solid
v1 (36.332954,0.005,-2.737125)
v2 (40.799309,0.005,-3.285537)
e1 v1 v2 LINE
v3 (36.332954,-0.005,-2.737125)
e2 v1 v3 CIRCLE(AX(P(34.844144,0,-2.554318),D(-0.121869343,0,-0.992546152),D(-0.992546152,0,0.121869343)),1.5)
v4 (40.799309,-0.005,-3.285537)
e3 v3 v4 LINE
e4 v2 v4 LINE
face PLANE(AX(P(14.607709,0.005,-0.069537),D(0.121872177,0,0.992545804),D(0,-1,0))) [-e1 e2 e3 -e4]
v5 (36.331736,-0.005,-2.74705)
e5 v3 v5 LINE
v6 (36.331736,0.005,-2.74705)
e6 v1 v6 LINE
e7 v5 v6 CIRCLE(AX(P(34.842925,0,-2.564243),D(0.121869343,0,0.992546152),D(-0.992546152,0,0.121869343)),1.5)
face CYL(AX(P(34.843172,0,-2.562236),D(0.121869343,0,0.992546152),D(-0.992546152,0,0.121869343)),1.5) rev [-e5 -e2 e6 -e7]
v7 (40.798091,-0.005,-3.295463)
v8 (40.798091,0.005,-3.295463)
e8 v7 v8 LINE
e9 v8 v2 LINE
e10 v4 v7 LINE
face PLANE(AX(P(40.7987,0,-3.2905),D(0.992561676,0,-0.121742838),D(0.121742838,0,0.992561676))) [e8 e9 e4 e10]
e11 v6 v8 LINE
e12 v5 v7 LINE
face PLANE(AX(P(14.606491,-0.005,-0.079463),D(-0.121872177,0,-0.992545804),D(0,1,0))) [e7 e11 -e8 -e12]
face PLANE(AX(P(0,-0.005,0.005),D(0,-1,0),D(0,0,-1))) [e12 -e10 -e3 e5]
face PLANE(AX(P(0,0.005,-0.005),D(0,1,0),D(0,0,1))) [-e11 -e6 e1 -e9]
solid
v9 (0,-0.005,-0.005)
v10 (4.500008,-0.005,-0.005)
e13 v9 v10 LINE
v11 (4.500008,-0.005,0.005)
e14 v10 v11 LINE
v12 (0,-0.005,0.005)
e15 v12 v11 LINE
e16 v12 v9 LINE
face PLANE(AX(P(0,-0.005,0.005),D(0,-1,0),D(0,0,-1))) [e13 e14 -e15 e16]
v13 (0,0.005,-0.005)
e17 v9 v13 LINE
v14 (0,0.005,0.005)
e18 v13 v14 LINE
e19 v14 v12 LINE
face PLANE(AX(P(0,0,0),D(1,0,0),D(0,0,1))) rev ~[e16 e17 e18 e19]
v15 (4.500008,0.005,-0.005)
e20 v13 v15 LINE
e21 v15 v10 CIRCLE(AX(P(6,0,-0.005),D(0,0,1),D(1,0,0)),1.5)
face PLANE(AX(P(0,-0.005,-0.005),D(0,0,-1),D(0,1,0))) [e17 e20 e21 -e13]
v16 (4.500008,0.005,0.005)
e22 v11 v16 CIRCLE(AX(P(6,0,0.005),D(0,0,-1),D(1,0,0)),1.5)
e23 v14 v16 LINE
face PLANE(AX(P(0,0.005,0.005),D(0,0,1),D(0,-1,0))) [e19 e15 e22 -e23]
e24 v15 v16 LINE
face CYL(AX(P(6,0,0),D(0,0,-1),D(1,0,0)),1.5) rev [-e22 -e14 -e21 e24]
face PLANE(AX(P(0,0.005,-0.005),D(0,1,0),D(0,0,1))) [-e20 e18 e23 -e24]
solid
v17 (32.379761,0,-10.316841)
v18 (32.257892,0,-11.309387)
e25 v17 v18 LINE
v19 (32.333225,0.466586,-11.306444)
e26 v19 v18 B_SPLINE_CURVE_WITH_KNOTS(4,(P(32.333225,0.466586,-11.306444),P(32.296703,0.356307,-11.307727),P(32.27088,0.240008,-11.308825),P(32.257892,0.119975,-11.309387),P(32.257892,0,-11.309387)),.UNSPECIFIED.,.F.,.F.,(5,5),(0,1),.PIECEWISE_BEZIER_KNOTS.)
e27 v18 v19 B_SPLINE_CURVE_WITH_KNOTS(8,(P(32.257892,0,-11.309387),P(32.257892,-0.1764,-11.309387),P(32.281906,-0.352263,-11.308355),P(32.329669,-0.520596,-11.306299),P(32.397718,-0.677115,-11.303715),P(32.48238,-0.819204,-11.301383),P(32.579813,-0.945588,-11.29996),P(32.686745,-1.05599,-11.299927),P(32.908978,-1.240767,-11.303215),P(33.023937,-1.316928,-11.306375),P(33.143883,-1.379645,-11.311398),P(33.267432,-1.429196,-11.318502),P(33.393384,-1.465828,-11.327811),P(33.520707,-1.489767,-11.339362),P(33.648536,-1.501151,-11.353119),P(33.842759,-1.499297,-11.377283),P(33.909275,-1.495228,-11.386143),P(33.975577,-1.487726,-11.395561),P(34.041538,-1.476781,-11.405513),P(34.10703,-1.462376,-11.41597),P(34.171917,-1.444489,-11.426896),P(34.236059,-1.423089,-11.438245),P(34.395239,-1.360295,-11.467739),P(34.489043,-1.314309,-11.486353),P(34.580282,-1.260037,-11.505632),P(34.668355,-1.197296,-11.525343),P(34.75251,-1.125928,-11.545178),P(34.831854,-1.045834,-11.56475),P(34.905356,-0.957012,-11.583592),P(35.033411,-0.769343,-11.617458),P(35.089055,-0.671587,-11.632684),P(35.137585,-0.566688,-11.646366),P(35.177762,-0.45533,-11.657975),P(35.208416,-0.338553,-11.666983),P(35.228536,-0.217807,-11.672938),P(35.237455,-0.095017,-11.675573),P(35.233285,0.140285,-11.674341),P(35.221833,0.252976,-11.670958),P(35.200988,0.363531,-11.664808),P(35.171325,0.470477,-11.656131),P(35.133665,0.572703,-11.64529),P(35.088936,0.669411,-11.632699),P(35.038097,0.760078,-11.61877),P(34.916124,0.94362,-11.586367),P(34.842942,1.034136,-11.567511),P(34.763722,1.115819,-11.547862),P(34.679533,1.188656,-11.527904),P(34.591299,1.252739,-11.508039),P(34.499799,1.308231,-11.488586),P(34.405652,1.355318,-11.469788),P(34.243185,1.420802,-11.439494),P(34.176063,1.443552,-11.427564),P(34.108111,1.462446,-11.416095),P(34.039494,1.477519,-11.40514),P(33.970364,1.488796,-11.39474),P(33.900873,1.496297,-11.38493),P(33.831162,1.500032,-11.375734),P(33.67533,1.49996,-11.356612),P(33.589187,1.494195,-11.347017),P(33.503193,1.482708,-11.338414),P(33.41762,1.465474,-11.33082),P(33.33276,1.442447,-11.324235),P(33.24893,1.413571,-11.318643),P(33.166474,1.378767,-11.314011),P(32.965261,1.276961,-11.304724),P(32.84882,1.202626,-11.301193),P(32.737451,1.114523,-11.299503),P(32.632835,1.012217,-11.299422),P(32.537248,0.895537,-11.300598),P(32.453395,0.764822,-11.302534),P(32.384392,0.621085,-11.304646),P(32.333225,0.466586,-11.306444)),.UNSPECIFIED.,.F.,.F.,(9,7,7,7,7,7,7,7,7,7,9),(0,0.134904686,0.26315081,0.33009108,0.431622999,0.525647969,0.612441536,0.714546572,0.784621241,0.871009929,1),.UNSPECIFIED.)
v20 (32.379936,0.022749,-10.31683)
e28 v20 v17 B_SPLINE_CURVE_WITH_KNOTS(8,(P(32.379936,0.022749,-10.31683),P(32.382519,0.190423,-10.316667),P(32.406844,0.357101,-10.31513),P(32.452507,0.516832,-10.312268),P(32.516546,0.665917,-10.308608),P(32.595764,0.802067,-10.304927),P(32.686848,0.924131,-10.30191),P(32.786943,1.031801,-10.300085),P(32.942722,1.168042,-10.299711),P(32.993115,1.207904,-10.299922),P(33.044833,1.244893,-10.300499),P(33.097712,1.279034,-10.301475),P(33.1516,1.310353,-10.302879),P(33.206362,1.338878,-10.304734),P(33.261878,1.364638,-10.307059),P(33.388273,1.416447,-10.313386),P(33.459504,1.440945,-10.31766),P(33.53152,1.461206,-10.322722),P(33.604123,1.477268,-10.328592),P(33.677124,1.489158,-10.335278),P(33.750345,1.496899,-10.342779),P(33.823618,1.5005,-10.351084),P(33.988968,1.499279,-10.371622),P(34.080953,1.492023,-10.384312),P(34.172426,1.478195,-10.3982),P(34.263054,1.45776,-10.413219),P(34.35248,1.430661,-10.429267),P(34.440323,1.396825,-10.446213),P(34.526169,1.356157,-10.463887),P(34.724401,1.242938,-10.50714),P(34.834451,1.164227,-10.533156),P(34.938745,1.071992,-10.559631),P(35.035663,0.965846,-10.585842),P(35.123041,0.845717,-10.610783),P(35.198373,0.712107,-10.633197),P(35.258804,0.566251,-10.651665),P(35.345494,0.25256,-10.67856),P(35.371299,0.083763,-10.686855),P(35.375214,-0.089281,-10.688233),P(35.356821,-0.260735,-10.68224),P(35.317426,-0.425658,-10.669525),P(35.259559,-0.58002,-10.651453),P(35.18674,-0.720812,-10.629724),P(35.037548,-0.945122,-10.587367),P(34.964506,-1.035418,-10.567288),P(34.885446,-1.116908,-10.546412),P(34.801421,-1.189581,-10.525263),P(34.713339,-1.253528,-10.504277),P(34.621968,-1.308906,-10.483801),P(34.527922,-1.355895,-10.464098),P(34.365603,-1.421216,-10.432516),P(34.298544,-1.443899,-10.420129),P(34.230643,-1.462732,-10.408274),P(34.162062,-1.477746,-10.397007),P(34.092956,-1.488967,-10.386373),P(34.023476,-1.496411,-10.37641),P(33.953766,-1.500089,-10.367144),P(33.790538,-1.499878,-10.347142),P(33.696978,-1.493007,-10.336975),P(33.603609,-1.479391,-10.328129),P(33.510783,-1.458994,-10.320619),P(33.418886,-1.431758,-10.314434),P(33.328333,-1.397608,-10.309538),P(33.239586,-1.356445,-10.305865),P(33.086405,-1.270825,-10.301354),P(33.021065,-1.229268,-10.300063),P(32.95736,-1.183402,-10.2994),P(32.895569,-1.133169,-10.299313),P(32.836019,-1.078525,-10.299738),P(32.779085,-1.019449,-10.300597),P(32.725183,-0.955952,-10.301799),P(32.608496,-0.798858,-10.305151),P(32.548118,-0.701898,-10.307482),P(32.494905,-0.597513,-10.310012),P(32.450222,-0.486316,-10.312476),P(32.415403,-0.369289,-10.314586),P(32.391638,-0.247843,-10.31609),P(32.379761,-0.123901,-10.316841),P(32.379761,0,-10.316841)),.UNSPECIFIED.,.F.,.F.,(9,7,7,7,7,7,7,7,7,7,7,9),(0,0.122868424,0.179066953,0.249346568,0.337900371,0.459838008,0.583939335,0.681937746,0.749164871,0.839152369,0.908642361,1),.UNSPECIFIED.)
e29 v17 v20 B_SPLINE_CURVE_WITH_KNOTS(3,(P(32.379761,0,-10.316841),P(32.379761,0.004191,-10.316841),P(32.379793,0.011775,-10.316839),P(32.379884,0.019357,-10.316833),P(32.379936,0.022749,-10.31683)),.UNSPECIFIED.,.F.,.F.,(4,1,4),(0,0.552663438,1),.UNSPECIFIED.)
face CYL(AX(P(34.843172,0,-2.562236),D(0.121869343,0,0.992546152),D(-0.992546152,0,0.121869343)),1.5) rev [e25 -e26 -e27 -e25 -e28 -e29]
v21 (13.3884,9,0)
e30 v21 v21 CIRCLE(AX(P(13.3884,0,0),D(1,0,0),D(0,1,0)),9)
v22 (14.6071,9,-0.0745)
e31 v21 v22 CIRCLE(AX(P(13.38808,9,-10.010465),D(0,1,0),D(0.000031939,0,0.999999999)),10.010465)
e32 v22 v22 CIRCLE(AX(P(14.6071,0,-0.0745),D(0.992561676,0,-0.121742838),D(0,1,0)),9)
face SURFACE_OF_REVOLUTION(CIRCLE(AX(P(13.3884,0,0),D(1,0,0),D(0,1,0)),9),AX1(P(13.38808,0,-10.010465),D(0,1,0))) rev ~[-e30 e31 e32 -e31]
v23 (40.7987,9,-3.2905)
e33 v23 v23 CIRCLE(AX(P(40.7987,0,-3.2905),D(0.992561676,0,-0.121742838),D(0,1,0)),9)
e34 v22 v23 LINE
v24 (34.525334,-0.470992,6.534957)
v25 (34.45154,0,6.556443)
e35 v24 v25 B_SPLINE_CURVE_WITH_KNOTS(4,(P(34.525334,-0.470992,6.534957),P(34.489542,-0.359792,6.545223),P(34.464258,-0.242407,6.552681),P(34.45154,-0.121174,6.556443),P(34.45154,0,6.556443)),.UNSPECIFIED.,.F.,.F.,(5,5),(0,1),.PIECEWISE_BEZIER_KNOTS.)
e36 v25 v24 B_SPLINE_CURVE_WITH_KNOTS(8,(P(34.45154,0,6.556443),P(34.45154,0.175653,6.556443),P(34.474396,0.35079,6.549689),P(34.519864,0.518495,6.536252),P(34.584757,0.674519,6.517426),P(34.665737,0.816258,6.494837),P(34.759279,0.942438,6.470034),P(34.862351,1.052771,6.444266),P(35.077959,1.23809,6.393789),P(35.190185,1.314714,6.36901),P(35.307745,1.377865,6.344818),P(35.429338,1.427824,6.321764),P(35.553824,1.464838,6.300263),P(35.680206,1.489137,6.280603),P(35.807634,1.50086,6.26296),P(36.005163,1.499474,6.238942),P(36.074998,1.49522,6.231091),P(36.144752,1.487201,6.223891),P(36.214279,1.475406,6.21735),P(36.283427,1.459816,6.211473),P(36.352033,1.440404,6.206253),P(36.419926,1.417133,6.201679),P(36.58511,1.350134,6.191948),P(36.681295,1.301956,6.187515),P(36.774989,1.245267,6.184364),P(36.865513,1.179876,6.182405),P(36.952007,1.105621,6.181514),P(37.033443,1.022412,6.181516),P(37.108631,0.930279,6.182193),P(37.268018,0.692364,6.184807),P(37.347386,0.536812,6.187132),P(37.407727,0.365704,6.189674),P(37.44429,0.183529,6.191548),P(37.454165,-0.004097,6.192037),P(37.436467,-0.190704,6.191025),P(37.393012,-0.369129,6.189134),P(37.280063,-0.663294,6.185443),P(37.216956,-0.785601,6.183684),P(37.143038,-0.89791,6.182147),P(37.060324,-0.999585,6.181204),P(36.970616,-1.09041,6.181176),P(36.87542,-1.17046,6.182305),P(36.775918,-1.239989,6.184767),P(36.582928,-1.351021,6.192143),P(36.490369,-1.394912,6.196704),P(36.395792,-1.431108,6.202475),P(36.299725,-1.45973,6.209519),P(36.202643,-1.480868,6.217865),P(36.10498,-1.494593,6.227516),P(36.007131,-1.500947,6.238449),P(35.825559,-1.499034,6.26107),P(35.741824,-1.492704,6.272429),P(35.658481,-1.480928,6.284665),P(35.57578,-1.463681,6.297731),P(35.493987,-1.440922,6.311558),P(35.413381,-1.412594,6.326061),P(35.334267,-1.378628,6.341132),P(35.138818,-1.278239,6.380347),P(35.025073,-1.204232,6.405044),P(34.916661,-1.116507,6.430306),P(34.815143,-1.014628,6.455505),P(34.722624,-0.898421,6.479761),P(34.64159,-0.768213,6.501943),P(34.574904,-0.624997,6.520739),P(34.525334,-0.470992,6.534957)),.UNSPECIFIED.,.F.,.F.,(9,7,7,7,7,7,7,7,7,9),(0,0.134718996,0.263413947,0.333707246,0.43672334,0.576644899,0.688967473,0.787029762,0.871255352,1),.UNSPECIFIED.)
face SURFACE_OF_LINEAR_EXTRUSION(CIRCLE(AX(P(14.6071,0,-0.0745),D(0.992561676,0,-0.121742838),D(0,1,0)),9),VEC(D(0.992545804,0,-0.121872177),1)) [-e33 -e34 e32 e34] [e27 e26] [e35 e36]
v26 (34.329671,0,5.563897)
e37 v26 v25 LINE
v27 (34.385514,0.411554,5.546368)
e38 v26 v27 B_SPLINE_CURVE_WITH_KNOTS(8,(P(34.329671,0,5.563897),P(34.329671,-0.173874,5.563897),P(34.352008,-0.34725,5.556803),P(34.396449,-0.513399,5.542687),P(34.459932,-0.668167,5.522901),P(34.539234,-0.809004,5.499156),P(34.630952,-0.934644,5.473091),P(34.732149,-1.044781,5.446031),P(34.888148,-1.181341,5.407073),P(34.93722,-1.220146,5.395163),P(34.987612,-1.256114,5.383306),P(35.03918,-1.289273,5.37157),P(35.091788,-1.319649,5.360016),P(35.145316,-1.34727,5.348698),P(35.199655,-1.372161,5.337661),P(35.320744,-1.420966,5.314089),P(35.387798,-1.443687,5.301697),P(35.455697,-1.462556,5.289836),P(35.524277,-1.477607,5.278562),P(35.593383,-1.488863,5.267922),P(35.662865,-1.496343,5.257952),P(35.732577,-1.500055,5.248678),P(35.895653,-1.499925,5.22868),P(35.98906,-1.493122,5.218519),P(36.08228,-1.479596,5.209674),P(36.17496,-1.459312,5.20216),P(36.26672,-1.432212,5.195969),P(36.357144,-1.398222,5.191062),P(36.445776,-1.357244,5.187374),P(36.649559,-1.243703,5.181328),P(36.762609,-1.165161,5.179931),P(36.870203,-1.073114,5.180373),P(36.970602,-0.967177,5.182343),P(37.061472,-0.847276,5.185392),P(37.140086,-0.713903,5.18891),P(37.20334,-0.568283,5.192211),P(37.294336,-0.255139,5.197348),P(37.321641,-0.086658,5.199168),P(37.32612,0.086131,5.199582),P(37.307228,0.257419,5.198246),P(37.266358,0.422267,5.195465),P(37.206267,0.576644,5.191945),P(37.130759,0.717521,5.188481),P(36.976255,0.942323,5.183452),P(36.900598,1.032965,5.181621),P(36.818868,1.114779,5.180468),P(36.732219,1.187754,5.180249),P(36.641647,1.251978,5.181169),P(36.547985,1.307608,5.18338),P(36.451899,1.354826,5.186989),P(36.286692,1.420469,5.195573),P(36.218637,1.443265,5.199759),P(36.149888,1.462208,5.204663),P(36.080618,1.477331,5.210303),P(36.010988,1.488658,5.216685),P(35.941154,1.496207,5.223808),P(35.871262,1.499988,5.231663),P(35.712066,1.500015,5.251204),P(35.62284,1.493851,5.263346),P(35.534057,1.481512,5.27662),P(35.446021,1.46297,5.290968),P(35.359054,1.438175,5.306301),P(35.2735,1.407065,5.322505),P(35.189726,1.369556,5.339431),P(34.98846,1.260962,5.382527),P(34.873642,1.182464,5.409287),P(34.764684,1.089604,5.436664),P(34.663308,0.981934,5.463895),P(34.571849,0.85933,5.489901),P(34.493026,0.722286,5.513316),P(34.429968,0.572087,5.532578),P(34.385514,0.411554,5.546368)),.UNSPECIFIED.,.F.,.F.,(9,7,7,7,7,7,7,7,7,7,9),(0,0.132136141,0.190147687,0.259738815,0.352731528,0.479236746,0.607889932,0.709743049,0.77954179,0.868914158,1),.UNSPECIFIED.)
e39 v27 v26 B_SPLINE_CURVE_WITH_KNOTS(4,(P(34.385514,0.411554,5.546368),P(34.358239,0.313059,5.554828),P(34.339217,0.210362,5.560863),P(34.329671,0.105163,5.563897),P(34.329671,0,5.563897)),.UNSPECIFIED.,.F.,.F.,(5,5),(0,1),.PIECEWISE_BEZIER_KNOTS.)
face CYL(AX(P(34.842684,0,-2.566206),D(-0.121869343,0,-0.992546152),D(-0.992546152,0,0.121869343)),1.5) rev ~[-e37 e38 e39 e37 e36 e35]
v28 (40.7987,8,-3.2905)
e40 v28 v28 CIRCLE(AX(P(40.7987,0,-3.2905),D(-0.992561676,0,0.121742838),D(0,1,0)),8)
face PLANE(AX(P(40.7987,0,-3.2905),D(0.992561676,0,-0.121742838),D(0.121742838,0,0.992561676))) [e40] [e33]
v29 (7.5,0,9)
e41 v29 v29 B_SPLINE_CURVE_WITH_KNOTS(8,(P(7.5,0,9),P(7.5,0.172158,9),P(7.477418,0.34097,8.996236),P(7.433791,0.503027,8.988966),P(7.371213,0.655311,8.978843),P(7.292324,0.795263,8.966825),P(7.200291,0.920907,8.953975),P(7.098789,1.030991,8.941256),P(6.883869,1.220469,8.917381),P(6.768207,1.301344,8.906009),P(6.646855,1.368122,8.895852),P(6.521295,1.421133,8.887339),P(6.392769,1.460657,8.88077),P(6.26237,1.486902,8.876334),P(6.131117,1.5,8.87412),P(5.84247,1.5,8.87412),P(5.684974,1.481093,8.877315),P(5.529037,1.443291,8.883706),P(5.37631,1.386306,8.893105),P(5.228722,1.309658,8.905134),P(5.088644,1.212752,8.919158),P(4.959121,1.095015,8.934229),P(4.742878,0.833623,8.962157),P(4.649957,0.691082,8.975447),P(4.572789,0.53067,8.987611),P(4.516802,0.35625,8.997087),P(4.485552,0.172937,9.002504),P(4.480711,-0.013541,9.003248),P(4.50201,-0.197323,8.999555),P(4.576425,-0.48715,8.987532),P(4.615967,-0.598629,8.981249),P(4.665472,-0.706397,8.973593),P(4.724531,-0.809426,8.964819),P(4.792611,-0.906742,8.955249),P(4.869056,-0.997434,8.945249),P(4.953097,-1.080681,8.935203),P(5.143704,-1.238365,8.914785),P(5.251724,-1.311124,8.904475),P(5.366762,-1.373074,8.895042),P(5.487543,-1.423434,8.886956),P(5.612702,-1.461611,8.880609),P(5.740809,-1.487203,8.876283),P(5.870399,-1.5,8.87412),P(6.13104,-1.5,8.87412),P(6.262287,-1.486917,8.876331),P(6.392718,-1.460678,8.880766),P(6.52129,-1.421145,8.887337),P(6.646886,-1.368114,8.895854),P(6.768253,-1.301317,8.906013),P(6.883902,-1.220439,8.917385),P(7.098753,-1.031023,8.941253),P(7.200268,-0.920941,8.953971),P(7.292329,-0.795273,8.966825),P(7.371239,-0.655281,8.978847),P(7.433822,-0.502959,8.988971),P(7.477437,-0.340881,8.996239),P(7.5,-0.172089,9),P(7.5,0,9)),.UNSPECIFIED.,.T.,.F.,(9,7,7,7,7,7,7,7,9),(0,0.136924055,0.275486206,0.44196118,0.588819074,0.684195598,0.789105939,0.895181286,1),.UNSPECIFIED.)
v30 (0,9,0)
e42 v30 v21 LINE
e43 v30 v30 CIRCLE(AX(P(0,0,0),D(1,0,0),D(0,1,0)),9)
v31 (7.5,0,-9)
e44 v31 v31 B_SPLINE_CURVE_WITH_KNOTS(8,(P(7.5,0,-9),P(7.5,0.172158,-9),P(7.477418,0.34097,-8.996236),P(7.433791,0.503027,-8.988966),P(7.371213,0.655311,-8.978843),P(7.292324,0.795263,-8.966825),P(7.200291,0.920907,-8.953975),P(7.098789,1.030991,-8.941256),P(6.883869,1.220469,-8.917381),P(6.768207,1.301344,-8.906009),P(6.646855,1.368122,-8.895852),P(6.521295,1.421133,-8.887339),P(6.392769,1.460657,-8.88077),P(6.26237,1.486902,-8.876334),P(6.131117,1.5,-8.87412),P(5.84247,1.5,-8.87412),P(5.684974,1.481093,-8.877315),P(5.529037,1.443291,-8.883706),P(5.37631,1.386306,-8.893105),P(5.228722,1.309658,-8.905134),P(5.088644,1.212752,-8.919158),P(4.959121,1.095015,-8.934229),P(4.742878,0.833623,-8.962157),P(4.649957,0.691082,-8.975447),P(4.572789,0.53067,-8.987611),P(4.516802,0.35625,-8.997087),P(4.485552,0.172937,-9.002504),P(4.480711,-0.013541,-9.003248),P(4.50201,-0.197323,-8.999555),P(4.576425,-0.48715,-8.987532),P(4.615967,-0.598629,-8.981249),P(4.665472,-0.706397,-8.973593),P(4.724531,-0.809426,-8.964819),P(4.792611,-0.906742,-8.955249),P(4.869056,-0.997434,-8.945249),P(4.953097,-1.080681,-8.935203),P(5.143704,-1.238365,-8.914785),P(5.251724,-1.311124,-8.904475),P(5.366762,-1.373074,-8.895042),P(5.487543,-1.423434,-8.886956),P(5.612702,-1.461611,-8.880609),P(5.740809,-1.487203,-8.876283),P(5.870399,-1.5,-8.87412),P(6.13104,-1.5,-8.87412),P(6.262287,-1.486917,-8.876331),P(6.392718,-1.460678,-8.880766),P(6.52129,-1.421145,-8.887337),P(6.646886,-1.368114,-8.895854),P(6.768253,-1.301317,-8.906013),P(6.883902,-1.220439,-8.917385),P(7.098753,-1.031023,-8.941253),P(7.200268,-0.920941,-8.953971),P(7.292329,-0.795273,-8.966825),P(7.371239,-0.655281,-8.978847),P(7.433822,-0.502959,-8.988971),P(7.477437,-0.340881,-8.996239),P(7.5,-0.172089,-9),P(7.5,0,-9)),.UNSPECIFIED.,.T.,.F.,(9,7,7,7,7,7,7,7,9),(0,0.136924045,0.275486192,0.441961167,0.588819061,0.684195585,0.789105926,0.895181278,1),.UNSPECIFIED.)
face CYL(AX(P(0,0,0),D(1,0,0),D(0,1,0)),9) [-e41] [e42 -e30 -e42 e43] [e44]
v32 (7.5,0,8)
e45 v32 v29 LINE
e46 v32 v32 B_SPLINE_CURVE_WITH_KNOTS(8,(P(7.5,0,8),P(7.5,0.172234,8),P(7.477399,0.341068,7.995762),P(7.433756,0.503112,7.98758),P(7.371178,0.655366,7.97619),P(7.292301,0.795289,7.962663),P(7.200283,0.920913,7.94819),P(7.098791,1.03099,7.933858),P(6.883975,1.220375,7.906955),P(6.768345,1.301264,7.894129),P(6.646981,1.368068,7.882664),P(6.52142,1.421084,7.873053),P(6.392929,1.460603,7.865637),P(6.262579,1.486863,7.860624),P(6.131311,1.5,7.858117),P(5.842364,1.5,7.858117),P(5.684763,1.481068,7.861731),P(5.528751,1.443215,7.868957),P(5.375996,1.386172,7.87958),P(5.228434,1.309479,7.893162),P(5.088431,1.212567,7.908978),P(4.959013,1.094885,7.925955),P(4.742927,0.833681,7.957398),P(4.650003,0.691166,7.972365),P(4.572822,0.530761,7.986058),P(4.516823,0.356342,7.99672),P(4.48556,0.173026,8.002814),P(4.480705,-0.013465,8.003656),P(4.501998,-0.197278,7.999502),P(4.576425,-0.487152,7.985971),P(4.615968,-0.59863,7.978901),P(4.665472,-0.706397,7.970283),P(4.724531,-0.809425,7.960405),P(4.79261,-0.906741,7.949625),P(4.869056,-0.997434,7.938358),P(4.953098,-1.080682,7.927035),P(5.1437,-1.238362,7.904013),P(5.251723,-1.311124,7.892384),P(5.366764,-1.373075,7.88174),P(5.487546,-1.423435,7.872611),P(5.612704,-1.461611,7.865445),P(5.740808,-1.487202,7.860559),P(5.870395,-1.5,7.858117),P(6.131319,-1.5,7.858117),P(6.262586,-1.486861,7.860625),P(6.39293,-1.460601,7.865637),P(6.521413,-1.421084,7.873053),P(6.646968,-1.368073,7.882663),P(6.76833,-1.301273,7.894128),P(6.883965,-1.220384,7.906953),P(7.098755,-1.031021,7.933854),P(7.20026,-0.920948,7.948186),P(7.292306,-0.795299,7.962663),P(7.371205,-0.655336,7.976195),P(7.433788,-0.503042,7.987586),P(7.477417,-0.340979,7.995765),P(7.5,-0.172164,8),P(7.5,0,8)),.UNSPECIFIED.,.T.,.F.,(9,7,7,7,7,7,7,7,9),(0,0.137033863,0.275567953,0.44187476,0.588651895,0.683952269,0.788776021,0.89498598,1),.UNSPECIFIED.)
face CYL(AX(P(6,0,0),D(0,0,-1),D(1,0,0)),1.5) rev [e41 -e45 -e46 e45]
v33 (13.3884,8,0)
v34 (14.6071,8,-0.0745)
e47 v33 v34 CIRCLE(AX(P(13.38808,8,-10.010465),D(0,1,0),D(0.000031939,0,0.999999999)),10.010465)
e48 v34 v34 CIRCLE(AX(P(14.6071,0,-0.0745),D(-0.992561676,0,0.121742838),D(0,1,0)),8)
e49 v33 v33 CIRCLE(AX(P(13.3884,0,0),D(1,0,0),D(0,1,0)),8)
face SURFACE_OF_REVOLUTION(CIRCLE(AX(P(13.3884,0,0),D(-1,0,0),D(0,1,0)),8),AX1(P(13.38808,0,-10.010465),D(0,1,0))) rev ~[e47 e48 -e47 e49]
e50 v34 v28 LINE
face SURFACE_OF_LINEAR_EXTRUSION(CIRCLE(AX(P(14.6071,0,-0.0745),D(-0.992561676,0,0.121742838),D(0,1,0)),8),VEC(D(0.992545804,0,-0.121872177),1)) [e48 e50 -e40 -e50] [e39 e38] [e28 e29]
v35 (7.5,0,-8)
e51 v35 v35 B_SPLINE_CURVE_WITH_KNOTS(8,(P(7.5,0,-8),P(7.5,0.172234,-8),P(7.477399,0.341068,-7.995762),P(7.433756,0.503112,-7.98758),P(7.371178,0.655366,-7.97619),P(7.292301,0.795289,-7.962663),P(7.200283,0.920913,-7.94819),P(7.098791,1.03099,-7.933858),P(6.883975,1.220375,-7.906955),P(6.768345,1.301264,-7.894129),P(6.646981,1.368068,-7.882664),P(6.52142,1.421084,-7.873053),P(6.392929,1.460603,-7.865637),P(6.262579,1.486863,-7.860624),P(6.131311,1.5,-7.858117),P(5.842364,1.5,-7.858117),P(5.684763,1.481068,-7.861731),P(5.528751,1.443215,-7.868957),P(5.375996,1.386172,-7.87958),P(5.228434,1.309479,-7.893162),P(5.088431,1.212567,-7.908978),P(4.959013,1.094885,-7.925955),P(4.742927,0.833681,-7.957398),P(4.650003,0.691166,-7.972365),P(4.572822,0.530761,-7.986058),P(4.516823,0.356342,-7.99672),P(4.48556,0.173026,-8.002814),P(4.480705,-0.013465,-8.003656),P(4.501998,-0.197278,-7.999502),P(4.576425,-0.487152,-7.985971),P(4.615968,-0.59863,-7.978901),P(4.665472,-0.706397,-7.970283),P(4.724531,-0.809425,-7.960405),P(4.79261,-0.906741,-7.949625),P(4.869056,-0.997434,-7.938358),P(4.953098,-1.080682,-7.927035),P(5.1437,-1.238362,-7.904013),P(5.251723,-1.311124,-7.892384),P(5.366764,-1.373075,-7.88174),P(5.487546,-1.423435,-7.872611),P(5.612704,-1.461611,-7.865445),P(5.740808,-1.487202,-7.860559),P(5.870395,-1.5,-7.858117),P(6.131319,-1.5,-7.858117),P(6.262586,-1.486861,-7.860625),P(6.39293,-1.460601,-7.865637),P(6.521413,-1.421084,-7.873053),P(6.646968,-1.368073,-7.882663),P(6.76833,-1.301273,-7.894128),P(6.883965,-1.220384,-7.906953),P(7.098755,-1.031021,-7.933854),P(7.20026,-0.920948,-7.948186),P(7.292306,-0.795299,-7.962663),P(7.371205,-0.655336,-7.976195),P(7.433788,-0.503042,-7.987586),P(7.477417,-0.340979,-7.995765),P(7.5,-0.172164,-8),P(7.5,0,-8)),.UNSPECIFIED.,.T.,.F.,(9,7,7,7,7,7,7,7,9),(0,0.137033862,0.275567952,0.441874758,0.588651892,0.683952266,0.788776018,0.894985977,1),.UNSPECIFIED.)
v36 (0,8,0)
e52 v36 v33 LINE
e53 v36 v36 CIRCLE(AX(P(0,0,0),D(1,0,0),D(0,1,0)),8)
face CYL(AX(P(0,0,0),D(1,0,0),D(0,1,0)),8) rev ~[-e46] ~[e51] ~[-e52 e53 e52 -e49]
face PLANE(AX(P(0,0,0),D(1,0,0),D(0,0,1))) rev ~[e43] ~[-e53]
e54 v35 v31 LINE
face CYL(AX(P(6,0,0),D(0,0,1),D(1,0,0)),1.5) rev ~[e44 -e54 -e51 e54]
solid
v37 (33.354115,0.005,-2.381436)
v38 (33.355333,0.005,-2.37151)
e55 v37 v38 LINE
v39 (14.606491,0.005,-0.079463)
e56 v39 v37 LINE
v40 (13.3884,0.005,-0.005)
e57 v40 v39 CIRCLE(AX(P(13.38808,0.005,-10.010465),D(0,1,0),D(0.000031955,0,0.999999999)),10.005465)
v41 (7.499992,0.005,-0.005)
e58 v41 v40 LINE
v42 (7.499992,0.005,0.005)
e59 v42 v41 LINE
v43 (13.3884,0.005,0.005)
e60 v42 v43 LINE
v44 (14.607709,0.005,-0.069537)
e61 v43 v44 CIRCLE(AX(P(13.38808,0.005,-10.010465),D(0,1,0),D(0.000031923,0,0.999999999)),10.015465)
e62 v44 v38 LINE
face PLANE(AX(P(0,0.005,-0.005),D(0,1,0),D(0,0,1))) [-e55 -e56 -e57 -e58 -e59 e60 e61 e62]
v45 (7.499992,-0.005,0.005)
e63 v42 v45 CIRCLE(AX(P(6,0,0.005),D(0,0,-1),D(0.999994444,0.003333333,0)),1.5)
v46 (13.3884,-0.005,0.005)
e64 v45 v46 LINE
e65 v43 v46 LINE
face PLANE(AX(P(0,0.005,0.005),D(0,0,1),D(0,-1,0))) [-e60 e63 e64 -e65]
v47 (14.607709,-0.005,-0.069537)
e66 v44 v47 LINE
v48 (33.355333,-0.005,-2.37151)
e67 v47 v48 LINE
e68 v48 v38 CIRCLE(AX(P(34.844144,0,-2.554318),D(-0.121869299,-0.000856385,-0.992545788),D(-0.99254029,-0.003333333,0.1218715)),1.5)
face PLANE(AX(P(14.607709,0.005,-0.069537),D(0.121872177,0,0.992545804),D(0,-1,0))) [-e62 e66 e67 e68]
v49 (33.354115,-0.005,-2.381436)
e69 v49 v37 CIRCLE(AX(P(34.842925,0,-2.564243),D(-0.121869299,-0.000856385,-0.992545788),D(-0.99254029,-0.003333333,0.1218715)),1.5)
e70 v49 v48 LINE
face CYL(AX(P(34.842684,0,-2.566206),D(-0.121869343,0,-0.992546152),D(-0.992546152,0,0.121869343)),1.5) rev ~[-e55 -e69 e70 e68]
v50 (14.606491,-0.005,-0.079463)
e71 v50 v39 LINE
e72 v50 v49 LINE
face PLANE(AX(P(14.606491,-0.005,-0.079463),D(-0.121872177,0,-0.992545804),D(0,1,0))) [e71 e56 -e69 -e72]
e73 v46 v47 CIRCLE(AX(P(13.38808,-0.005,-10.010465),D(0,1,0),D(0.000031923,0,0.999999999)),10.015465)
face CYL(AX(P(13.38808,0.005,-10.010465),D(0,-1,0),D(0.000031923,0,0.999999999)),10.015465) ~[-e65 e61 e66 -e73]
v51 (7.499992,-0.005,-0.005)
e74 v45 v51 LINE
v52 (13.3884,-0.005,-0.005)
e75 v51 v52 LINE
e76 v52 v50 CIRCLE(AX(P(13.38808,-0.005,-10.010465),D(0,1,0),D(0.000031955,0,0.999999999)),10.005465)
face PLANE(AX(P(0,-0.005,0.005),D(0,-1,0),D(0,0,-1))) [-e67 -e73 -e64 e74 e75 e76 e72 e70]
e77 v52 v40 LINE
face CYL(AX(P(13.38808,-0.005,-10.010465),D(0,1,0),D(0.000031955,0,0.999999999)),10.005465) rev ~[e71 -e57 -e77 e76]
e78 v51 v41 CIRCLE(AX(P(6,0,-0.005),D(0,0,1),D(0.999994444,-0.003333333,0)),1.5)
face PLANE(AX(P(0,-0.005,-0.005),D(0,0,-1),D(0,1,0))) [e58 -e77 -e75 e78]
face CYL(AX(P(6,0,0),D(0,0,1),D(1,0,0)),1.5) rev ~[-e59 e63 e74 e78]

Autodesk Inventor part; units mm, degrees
ref_plane "YZ Plane" through (0, 0, 0) normal (1, 0, 0) x (0, 1, 0)
ref_plane "XZ Plane" through (0, 0, 0) normal (0, 1, 0) x (-1, 0, 0)
ref_plane "XY Plane" through (0, 0, 0) normal (0, 0, 1) x (1, 0, 0)
sketch "Sketch5" plane through (0, 0, 0) normal (0, 1, 0) x (-1, 0, 0)
  line L0 (0, 0) -> (-13.3884, 0)
  line L1 (-14.6071, -0.0745) -> (-40.7987, -3.2905)
  arc A0 (-13.3884, 0) -> (-14.6071, -0.0745) centre (-13.3884, -10) ccw
  point P0 (-14, 0)
  dimension "d122" = 14
  dimension "d123" = 27
  dimension "d124" = 173
  dimension "d125" = 10
sketch "Sketch6" plane through (0, 0, 0) normal (1, 0, 0) x (0, 1, 0)
  circle A0 centre (0, 0) radius 8
  circle A1 centre (0, 0) radius 9
  line L0 (-0.005, -0.005) -> (0.005, -0.005)
  line L1 (0.005, -0.005) -> (0.005, 0.005)
  line L2 (0.005, 0.005) -> (-0.005, 0.005)
  line L3 (-0.005, 0.005) -> (-0.005, -0.005)
  line L4 (-0.005, -0.005) -> (0.005, 0.005) construction
  line L5 (0.005, -0.005) -> (-0.005, 0.005) construction
  dimension "d126" = 16
  dimension "d127" = 18
  dimension "d138" = 0.01
  dimension "d139" = 0.01
sweep "Sweep1" add profiles "Sketch6" path "Sketch5"
sketch "Sketch7" plane through (0, 0, 0) normal (0, 0, 1) x (1, 0, 0)
  line L0 (0, 0) -> (6, 0) construction
  circle A0 centre (6, 0) radius 1.5
  dimension "d130" = 6
  dimension "d131" = 3
extrude "Extrusion8" cut sketch "Sketch7" along normal mid plane 25
sketch "Sketch8" plane through (14.6065, -0.005, -0.0795) normal (-0.1219, 0, -0.9925) x (-0.9925, 0, 0.1219)
  line L0 (-26.3884, 0) -> (-26.3884, 0.01) projected
  line L1 (-26.3884, 0.005) -> (-20.3884, 0.005) construction
  circle A0 centre (-20.3884, 0.005) radius 1.5
  point P0 (14.5073, 0.005)
  dimension "d134" = 6
  dimension "d135" = 3
extrude "Extrusion9" cut sketch "Sketch8" along normal mid plane 25
properties part number "airfoil"
